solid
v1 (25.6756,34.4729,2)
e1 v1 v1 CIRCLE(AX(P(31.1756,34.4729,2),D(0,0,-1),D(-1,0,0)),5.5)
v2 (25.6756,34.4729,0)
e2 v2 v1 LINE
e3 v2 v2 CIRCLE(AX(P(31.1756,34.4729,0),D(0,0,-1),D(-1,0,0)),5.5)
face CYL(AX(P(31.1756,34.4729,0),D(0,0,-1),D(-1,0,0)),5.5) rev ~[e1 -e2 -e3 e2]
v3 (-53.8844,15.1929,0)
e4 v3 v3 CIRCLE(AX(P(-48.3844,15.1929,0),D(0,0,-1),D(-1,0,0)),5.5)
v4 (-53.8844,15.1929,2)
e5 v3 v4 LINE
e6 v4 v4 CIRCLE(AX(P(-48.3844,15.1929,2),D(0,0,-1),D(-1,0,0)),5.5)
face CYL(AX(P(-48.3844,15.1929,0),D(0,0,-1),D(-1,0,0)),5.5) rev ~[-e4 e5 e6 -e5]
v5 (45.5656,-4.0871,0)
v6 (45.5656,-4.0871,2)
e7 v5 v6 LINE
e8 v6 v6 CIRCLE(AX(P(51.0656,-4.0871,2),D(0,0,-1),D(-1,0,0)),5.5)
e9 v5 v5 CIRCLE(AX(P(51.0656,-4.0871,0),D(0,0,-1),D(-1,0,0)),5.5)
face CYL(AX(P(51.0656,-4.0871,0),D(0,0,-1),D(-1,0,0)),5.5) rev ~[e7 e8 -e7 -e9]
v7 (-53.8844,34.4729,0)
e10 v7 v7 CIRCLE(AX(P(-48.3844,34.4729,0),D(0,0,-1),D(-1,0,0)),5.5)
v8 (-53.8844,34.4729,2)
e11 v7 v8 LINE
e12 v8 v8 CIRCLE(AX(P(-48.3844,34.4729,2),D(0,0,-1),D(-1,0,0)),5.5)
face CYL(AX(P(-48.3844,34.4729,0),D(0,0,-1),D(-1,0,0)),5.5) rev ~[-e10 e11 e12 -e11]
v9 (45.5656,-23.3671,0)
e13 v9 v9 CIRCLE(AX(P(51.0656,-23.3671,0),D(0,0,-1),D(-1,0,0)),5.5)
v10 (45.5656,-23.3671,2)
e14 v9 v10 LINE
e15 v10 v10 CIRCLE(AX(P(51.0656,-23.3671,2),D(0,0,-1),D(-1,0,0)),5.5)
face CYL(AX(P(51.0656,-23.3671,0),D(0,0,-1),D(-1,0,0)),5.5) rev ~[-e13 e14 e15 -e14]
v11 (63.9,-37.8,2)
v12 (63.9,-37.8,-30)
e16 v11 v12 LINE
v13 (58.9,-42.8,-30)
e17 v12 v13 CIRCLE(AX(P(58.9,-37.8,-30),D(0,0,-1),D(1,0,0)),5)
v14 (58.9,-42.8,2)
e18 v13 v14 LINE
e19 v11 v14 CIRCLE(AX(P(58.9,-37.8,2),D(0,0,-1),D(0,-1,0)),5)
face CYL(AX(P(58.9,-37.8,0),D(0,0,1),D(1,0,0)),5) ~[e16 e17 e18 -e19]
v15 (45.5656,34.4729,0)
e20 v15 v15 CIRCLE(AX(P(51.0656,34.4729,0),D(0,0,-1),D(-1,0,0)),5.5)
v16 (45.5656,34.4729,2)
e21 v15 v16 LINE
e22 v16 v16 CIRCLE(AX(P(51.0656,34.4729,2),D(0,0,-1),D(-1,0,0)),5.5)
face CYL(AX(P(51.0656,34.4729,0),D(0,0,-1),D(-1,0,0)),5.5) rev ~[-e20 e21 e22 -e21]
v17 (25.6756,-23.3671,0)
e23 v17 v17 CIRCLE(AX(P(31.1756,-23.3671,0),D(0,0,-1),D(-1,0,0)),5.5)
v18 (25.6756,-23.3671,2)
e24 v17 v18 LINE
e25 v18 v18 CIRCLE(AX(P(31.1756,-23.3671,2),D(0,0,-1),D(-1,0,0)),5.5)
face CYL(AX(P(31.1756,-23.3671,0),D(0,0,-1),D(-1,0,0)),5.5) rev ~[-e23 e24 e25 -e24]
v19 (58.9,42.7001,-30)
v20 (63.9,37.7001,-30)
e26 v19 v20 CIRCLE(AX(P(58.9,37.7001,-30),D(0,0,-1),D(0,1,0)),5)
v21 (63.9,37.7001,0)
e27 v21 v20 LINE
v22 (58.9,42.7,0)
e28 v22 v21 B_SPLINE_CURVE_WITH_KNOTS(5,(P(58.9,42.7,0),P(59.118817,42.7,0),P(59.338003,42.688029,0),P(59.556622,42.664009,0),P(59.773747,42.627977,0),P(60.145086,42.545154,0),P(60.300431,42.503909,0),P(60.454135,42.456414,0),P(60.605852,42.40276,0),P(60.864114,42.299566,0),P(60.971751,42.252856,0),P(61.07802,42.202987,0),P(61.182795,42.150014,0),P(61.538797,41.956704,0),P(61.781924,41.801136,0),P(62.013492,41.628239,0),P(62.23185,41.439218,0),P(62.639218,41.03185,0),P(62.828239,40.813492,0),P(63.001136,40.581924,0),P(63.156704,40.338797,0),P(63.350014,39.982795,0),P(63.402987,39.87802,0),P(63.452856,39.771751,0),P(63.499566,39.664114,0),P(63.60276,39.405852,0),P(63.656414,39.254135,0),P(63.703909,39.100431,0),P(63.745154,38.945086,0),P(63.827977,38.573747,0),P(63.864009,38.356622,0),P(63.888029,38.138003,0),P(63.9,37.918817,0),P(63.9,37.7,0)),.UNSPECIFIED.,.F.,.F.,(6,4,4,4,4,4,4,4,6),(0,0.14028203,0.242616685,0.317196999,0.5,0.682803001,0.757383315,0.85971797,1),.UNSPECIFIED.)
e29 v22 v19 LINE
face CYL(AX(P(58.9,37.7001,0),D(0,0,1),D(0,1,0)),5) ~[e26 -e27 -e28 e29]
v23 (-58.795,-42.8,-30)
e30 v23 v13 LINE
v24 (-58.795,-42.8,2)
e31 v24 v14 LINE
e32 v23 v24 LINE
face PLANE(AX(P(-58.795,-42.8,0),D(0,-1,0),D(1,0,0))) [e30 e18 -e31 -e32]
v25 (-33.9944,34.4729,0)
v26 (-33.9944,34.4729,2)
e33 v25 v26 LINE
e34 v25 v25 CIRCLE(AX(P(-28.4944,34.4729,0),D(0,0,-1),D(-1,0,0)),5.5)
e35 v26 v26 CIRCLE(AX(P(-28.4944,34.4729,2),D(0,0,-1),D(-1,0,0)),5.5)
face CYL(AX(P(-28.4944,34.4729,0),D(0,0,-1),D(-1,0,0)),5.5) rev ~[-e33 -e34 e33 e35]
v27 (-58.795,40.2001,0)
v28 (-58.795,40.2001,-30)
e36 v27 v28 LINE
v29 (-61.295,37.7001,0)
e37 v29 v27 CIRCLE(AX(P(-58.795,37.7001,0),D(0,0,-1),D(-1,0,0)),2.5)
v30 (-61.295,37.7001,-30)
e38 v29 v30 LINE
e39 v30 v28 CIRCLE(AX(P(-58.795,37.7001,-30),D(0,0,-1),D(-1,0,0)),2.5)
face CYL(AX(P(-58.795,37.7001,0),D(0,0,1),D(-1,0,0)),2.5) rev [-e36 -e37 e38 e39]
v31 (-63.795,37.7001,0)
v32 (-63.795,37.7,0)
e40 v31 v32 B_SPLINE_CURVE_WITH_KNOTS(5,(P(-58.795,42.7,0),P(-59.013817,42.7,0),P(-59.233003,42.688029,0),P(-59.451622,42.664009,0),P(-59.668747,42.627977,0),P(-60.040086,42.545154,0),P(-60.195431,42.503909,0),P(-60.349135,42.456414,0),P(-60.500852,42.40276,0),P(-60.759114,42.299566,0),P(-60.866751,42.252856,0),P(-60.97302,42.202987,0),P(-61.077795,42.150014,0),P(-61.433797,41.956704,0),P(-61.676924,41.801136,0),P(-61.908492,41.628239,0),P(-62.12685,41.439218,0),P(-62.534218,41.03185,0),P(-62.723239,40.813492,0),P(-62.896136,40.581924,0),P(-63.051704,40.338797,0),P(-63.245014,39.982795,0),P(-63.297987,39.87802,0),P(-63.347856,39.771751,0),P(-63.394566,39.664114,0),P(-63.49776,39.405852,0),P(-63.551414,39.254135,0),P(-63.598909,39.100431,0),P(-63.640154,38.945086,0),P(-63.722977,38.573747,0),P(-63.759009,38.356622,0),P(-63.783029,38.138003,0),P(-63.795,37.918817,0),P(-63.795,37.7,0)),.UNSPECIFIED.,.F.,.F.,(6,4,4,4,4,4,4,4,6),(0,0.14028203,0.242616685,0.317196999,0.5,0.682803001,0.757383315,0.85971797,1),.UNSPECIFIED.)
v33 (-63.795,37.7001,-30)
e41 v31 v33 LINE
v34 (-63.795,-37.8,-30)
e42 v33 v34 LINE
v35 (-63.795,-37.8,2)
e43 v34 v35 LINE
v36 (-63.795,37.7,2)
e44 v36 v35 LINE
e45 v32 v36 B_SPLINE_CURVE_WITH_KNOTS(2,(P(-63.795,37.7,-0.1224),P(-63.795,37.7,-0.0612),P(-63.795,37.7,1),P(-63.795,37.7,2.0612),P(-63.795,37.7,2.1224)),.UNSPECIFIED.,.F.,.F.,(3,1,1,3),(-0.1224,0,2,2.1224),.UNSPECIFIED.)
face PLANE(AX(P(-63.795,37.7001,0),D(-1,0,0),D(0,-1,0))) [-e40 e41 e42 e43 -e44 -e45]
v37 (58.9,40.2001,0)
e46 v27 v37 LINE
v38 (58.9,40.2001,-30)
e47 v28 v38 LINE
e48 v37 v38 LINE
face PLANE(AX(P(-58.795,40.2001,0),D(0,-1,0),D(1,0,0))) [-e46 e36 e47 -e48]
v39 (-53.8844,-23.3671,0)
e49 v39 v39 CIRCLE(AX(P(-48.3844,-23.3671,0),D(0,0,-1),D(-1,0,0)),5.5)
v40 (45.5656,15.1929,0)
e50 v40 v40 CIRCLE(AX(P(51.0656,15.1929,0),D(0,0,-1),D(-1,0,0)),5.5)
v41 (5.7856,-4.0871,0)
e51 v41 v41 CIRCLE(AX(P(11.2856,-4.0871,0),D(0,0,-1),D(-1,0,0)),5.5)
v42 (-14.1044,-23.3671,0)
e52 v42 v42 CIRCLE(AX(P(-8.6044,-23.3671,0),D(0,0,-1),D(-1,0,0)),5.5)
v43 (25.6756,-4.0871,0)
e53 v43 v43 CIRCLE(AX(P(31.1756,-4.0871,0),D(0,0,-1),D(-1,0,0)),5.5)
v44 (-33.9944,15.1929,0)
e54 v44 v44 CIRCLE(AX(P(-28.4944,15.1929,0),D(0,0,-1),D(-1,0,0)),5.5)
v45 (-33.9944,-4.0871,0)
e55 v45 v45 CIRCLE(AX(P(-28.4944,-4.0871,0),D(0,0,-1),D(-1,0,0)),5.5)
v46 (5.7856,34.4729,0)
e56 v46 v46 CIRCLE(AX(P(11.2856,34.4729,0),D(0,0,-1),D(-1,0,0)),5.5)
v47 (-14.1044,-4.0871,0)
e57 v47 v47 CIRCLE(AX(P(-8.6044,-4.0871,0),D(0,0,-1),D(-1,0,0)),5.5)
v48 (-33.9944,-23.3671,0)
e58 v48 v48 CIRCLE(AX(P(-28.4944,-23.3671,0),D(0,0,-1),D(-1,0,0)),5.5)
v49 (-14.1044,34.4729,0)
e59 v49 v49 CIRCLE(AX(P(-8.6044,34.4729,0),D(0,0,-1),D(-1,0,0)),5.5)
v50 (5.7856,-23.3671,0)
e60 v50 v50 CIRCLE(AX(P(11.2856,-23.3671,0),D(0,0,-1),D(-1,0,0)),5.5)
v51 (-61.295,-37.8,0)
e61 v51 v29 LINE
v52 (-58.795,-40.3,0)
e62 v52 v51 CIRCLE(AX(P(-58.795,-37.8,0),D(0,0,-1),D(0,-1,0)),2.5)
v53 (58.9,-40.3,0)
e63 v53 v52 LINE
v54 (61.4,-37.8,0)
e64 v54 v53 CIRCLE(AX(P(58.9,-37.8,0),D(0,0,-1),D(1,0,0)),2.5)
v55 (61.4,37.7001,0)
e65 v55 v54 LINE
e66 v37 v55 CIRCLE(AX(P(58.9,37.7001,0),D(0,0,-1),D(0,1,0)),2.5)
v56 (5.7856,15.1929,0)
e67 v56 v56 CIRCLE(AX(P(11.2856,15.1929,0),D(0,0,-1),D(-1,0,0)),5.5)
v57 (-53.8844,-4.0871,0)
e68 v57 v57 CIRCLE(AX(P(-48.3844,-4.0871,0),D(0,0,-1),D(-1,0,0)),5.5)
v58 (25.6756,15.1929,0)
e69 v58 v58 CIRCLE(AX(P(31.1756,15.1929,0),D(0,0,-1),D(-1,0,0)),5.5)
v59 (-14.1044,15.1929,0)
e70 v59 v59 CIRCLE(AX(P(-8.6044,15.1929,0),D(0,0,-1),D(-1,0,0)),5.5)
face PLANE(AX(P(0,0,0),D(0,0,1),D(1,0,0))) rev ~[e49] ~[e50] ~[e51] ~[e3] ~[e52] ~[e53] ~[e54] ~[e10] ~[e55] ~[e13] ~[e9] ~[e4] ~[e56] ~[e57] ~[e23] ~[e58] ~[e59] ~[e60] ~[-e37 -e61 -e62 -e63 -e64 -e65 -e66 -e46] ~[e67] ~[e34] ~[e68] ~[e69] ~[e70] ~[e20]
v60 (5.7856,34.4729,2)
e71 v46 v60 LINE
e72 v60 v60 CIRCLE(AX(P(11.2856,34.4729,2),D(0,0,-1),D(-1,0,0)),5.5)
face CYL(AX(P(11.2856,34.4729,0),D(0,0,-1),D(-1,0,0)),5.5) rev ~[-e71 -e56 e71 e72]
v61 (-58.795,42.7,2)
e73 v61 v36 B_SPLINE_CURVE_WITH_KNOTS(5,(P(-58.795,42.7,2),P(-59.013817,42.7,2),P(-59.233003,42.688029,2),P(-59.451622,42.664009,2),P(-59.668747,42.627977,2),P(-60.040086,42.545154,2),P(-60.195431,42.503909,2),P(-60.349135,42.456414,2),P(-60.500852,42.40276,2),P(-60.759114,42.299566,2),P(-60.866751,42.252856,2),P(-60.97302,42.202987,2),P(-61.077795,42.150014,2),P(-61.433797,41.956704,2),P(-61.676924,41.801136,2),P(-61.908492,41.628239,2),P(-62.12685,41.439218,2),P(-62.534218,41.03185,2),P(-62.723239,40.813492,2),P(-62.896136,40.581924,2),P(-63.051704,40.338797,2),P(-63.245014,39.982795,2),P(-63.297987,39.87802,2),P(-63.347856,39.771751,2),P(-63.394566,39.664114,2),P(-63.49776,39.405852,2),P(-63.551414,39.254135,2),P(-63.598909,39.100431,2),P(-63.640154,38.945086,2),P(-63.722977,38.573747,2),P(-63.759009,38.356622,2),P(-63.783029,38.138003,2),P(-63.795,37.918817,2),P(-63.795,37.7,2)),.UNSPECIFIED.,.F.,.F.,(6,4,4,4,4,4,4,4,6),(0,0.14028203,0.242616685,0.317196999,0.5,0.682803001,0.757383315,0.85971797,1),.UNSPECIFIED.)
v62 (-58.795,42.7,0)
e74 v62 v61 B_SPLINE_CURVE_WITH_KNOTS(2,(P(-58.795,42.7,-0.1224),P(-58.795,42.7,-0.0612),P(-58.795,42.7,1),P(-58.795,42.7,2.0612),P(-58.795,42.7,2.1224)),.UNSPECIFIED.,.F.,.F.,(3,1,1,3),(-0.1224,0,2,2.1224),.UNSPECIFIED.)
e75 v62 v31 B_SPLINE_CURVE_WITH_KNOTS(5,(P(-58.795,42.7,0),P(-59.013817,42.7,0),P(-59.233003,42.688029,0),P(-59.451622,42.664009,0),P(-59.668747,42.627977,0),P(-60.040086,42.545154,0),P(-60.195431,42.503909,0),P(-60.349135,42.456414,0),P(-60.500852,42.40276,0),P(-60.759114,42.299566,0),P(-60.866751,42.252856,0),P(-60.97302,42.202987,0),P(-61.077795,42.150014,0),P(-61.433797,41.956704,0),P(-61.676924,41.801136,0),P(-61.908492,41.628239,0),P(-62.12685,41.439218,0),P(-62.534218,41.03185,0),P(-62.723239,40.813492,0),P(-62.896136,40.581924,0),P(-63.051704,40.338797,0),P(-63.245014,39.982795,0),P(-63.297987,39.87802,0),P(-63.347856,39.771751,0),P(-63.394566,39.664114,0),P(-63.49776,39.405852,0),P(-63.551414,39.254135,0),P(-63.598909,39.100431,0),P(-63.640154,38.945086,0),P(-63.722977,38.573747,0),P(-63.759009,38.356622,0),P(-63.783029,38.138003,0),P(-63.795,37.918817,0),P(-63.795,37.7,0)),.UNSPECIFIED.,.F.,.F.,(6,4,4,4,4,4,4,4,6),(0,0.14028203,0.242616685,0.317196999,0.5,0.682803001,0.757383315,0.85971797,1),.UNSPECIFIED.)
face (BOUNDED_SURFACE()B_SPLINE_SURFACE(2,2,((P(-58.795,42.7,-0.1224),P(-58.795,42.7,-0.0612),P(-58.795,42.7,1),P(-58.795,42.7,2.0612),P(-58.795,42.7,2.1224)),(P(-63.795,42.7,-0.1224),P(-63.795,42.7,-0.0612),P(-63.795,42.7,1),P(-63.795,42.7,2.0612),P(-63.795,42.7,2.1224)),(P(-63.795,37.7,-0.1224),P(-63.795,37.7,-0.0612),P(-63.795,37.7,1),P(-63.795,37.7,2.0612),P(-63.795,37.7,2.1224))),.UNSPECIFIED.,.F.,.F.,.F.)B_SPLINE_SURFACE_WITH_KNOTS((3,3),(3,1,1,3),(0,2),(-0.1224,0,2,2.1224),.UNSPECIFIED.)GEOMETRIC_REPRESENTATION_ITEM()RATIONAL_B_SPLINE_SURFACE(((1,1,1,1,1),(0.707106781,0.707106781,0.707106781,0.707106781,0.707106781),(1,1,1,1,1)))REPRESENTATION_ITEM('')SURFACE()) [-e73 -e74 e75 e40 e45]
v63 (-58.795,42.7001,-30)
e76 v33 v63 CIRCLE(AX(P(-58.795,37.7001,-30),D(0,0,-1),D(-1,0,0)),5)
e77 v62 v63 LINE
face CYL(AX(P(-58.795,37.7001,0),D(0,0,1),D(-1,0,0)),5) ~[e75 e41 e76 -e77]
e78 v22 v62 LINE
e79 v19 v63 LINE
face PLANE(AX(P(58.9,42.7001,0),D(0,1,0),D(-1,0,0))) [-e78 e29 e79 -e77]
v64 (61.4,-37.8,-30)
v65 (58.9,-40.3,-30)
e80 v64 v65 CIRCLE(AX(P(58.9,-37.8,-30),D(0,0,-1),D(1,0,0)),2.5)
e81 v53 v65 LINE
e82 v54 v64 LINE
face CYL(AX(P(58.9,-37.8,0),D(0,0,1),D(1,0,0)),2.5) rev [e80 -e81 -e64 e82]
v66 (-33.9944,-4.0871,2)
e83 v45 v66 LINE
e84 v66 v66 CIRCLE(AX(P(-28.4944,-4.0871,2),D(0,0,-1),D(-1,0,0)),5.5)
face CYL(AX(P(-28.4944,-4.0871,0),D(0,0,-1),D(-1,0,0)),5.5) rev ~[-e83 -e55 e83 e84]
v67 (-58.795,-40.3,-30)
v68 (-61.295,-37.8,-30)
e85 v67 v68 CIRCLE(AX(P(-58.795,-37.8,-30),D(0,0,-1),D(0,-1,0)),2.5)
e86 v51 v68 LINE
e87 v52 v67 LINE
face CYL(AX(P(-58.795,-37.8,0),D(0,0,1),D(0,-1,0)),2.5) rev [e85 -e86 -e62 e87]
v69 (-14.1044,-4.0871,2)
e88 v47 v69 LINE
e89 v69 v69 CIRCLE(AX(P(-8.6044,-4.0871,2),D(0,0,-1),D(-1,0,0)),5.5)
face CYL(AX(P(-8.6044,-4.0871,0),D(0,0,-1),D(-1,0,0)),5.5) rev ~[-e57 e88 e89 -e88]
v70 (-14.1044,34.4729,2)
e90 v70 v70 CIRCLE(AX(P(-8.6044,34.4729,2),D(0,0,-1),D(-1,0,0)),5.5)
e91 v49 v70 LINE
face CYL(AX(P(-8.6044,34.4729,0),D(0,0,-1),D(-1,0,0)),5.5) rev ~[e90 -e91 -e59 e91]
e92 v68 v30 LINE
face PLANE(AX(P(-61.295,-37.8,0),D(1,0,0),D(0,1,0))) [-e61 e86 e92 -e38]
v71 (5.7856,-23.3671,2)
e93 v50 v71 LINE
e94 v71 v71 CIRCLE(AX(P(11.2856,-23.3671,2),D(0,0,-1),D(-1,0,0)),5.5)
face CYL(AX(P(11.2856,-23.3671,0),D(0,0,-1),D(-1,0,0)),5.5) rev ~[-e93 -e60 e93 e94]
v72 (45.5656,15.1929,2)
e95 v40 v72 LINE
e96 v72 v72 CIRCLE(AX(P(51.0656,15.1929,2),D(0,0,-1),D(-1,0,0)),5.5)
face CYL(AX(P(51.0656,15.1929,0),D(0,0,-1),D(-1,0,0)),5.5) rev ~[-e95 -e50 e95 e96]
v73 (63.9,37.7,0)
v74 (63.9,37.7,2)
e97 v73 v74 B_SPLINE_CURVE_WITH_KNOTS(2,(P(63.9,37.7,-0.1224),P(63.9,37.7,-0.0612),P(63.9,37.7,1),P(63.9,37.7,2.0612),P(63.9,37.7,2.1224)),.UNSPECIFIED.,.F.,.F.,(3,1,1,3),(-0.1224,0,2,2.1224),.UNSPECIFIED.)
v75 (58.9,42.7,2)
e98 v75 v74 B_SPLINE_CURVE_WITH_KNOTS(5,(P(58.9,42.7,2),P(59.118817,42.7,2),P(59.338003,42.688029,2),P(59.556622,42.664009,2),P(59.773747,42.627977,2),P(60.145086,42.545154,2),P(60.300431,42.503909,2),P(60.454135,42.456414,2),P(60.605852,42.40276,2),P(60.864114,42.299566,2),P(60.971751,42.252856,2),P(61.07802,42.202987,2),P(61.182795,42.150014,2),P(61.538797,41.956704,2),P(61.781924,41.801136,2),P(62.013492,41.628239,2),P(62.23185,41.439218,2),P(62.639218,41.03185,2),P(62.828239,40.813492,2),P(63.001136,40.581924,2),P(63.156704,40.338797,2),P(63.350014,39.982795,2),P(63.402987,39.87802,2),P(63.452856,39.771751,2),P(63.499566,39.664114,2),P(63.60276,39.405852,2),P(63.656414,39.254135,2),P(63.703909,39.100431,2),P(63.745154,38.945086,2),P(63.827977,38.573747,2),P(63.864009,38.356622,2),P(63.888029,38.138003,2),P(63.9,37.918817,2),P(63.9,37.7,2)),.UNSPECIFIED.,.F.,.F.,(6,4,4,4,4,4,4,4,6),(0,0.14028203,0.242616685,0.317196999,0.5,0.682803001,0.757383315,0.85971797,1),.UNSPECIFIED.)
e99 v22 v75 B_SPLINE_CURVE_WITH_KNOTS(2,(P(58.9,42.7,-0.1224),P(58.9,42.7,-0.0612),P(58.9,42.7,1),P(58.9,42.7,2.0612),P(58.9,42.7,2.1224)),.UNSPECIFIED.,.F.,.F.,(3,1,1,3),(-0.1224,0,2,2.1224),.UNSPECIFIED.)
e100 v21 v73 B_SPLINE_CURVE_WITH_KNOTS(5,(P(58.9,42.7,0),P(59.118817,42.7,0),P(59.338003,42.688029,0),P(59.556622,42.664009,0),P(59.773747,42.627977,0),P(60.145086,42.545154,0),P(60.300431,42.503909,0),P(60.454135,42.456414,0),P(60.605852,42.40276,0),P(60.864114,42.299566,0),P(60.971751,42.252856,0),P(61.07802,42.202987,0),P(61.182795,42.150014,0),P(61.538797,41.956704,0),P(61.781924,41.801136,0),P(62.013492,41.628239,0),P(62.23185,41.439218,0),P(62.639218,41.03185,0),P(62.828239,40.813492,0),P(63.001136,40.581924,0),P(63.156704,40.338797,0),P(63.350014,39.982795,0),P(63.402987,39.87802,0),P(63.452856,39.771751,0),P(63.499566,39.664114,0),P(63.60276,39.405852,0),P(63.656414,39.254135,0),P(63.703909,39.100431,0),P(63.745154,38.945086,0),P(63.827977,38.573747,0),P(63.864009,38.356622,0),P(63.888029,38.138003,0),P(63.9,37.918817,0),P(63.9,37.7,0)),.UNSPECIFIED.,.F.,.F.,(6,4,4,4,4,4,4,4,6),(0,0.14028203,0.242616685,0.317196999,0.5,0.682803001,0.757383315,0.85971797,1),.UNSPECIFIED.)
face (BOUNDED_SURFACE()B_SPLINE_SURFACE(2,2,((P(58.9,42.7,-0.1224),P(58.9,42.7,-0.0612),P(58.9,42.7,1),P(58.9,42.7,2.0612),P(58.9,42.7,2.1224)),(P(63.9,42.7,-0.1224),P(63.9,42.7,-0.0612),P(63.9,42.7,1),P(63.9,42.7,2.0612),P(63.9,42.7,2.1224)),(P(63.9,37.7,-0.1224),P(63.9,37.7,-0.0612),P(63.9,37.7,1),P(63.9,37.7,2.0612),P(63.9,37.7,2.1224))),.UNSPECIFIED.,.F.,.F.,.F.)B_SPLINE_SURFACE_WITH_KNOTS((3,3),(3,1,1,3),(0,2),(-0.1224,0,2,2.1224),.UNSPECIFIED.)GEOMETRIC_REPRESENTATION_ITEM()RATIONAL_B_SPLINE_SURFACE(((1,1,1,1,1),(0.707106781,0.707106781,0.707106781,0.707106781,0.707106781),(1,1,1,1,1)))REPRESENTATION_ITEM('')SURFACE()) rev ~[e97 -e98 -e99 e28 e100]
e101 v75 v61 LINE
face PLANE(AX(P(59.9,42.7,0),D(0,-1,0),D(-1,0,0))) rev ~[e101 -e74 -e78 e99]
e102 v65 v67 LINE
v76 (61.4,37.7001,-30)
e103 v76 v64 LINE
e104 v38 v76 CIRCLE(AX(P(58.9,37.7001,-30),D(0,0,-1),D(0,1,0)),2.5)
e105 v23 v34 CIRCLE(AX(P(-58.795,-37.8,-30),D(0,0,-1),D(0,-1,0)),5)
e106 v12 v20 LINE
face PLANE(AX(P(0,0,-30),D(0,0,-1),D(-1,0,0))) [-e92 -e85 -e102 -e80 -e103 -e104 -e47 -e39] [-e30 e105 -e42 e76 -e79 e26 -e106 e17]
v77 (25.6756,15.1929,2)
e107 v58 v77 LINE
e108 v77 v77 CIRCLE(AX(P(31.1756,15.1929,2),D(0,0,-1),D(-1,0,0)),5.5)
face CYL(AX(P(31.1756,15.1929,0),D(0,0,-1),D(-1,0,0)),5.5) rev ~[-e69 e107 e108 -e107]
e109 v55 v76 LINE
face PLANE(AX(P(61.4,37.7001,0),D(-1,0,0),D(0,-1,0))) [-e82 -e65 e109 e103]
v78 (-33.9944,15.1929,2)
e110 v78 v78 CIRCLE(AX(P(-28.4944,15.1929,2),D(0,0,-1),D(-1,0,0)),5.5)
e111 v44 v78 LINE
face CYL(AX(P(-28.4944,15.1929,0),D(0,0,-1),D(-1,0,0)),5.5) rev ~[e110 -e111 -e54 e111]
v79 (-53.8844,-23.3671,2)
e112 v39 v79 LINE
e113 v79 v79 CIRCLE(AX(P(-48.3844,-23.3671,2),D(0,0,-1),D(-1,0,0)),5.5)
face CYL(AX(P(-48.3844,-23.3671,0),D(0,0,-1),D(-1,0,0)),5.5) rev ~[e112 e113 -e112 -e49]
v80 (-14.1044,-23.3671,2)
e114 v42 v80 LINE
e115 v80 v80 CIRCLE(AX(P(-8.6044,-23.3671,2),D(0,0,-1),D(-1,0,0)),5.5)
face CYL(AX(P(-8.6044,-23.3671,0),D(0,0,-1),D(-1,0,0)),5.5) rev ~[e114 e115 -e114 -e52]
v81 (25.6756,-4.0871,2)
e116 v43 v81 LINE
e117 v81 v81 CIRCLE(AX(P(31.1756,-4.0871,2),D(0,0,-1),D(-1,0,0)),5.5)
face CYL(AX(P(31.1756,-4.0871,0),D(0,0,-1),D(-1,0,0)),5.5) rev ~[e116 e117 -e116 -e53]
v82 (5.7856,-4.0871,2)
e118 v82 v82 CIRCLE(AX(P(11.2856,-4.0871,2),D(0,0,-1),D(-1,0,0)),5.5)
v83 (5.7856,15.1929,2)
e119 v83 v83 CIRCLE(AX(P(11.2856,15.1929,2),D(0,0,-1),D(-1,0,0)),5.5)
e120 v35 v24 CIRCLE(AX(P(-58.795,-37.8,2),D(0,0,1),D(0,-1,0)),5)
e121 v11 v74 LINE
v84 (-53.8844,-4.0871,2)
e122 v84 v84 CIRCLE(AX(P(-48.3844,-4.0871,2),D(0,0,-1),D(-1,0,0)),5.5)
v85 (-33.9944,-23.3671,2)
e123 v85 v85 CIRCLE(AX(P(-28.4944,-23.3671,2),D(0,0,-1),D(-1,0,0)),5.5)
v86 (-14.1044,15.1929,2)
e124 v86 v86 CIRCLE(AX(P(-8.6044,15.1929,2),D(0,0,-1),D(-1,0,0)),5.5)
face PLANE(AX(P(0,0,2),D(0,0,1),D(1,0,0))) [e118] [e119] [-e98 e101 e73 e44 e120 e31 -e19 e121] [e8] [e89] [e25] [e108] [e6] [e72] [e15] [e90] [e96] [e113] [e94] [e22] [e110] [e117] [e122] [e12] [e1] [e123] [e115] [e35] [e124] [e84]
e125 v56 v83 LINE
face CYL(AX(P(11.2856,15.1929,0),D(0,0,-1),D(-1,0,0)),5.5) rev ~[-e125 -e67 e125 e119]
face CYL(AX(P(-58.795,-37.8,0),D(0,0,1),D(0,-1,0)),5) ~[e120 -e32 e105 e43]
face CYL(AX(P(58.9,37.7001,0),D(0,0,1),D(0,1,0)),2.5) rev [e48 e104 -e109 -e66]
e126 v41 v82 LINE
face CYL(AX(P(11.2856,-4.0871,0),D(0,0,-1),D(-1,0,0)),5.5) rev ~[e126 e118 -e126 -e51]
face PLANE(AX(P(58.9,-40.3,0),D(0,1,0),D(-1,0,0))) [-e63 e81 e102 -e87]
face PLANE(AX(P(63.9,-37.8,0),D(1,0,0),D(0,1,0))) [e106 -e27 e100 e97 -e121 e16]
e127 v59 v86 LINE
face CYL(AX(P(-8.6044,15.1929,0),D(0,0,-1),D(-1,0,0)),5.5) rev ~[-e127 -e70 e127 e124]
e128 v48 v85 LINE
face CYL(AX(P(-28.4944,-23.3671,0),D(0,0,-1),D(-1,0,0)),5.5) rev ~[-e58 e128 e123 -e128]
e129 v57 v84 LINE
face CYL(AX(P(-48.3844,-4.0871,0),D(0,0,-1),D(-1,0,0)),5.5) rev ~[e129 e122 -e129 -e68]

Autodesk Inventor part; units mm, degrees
ref_plane "YZ Plane" through (0, 0, 0) normal (1, 0, 0) x (0, 1, 0)
ref_plane "XZ Plane" through (0, 0, 0) normal (0, 1, 0) x (-1, 0, 0)
ref_plane "XY Plane" through (0, 0, 0) normal (0, 0, 1) x (1, 0, 0)
sketch "Sketch1" plane through (0, 0, 0) normal (0, 0, 1) x (1, 0, 0)
  arc A0 (-59.9, 42.7) -> (-63.8, 38.8) centre (-59.9, 38.8) ccw projected
  arc A1 (63.8, 38.8) -> (59.9, 42.7) centre (59.9, 38.8) ccw projected
  arc A2 (59.9, -42.7) -> (63.8, -38.8) centre (59.9, -38.8) ccw projected
  arc A3 (59.9, -42.8) -> (63.9, -38.8) centre (59.9, -38.8) ccw projected
  arc A4 (-63.9, -38.8) -> (-59.9, -42.8) centre (-59.9, -38.8) ccw projected
  line L0 (-63.8, 38.8) -> (-63.9, -38.8)
  line L1 (-59.9, -42.8) -> (59.9, -42.8)
  line L2 (63.9, -38.8) -> (63.8, 38.8)
  line L3 (59.9, 42.7) -> (-59.9, 42.7)
  line L4 (-63.795, 42.7001) -> (63.9, 42.7001)
  line L5 (63.9, 42.7001) -> (63.9, -42.8)
  line L6 (63.9, -42.8) -> (-63.795, -42.8)
  line L7 (-63.795, -42.8) -> (-63.795, 42.7001)
  point P0 (0, 0)
extrude "Extrusion1" add sketch "Sketch1" along normal blind 2 contours L3 A1 L2 A3 L1 A4 L7 A0 | A0 L7 L4 | L4 L5 L2 A1 | A4 L6 L7 | L5 L6 A3
fillet "Fillet1" radius 5 4 edges at (63.9, -42.8, 1) (-63.795, 42.7001, 1) (-63.795, -42.8, 1) (63.9, 42.7001, 1)
sketch "Sketch2" plane through (0, 0, 0) normal (0, 0, -1) x (-1, 0, 0)
  line L0 (-65.9327, 44.5429) -> (66.5944, 44.5429) construction
  line L1 (66.5944, 44.5429) -> (66.5944, -45.2784) construction
  line L2 (66.5944, -45.2784) -> (-65.9327, -45.2784) construction
  line L3 (-65.9327, -45.2784) -> (-65.9327, 44.5429) construction
  arc A0 (-59.9, 42.7) -> (-63.8, 38.8) centre (-59.9, 38.8) ccw projected
  arc A1 (63.8, 38.8) -> (59.9, 42.7) centre (59.9, 38.8) ccw projected
  arc A2 (59.9, -42.7) -> (63.8, -38.8) centre (59.9, -38.8) ccw projected
  arc A3 (-63.8, -38.8) -> (-59.9, -42.7) centre (-59.9, -38.8) ccw projected
  circle A4 centre (48.3844, 34.4729) radius 5.5
  circle A5 centre (48.3844, 15.1929) radius 5.5
  line L4 (66.5944, 25.2629) -> (66.5944, -64.5584) construction
  circle A6 centre (48.3844, -4.0871) radius 5.5
  line L5 (66.5944, 5.9829) -> (66.5944, -83.8384) construction
  circle A7 centre (48.3844, -23.3671) radius 5.5
  line L6 (66.5944, -13.2971) -> (66.5944, -103.1184) construction
  circle A8 centre (28.4944, 34.4729) radius 5.5
  line L7 (46.7044, 44.5429) -> (46.7044, -45.2784) construction
  circle A9 centre (28.4944, 15.1929) radius 5.5
  line L8 (46.7044, 25.2629) -> (46.7044, -64.5584) construction
  circle A10 centre (28.4944, -4.0871) radius 5.5
  line L9 (46.7044, 5.9829) -> (46.7044, -83.8384) construction
  circle A11 centre (28.4944, -23.3671) radius 5.5
  line L10 (46.7044, -13.2971) -> (46.7044, -103.1184) construction
  circle A12 centre (8.6044, 34.4729) radius 5.5
  line L11 (26.8144, 44.5429) -> (26.8144, -45.2784) construction
  circle A13 centre (8.6044, 15.1929) radius 5.5
  line L12 (26.8144, 25.2629) -> (26.8144, -64.5584) construction
  circle A14 centre (8.6044, -4.0871) radius 5.5
  line L13 (26.8144, 5.9829) -> (26.8144, -83.8384) construction
  circle A15 centre (8.6044, -23.3671) radius 5.5
  line L14 (26.8144, -13.2971) -> (26.8144, -103.1184) construction
  circle A16 centre (-11.2856, 34.4729) radius 5.5
  line L15 (6.9244, 44.5429) -> (6.9244, -45.2784) construction
  circle A17 centre (-11.2856, 15.1929) radius 5.5
  line L16 (6.9244, 25.2629) -> (6.9244, -64.5584) construction
  circle A18 centre (-11.2856, -4.0871) radius 5.5
  line L17 (6.9244, 5.9829) -> (6.9244, -83.8384) construction
  circle A19 centre (-11.2856, -23.3671) radius 5.5
  line L18 (6.9244, -13.2971) -> (6.9244, -103.1184) construction
  circle A20 centre (-31.1756, 34.4729) radius 5.5
  line L19 (-12.9656, 44.5429) -> (-12.9656, -45.2784) construction
  circle A21 centre (-31.1756, 15.1929) radius 5.5
  line L20 (-12.9656, 25.2629) -> (-12.9656, -64.5584) construction
  circle A22 centre (-31.1756, -4.0871) radius 5.5
  line L21 (-12.9656, 5.9829) -> (-12.9656, -83.8384) construction
  circle A23 centre (-31.1756, -23.3671) radius 5.5
  line L22 (-12.9656, -13.2971) -> (-12.9656, -103.1184) construction
  circle A24 centre (-51.0656, 34.4729) radius 5.5
  line L23 (-32.8556, 44.5429) -> (-32.8556, -45.2784) construction
  circle A25 centre (-51.0656, 15.1929) radius 5.5
  line L24 (-32.8556, 25.2629) -> (-32.8556, -64.5584) construction
  circle A26 centre (-51.0656, -4.0871) radius 5.5
  line L25 (-32.8556, 5.9829) -> (-32.8556, -83.8384) construction
  circle A27 centre (-51.0656, -23.3671) radius 5.5
  line L26 (-32.8556, -13.2971) -> (-32.8556, -103.1184) construction
  point P0 (0, 0)
  point P1 (59.9, 19.52)
  point P2 (59.9, 0.24)
  point P3 (59.9, -19.04)
  point P4 (40.01, 38.8)
  point P5 (40.01, 19.52)
  point P6 (40.01, 0.24)
  point P7 (40.01, -19.04)
  point P8 (20.12, 38.8)
  point P9 (20.12, 19.52)
  point P10 (20.12, 0.24)
  point P11 (20.12, -19.04)
  point P12 (0.23, 38.8)
  point P13 (0.23, 19.52)
  point P14 (0.23, 0.24)
  point P15 (0.23, -19.04)
  point P16 (-19.66, 38.8)
  point P17 (-19.66, 19.52)
  point P18 (-19.66, 0.24)
  point P19 (-19.66, -19.04)
  point P20 (-39.55, 38.8)
  point P21 (-39.55, 19.52)
  point P22 (-39.55, 0.24)
  point P23 (-39.55, -19.04)
  dimension "d10" = 11
  dimension "d17" = 19.28
  dimension "d20" = 19.89
  dimension "d24" = 18.21
  dimension "d25" = 10.07
  dimension "d26" = 132.5272
extrude "Extrusion2" cut sketch "Sketch2" against normal blind 2
sketch "Sketch3" plane through (0, 0, 0) normal (0, 0, -1) x (-1, 0, 0)
  circle A0 centre (-51.0656, -4.0871) radius 5.5 projected
  circle A1 centre (-51.0656, 34.4729) radius 5.5 projected
  circle A2 centre (-31.1756, -4.0871) radius 5.5 projected
  circle A3 centre (-31.1756, 34.4729) radius 5.5 projected
  circle A4 centre (-11.2856, -4.0871) radius 5.5 projected
  circle A5 centre (-11.2856, 34.4729) radius 5.5 projected
  circle A6 centre (8.6044, -4.0871) radius 5.5 projected
  circle A7 centre (8.6044, 34.4729) radius 5.5 projected
  circle A8 centre (28.4944, -4.0871) radius 5.5 projected
  circle A9 centre (28.4944, 34.4729) radius 5.5 projected
  circle A10 centre (48.3844, -4.0871) radius 5.5 projected
  circle A11 centre (48.3844, 34.4729) radius 5.5 projected
  circle A12 centre (48.3844, 15.1929) radius 5.5 projected
  circle A13 centre (48.3844, -23.3671) radius 5.5 projected
  circle A14 centre (28.4944, 15.1929) radius 5.5 projected
  circle A15 centre (28.4944, -23.3671) radius 5.5 projected
  circle A16 centre (8.6044, 15.1929) radius 5.5 projected
  circle A17 centre (8.6044, -23.3671) radius 5.5 projected
  circle A18 centre (-11.2856, 15.1929) radius 5.5 projected
  circle A19 centre (-11.2856, -23.3671) radius 5.5 projected
  circle A20 centre (-31.1756, 15.1929) radius 5.5 projected
  circle A21 centre (-31.1756, -23.3671) radius 5.5 projected
  circle A22 centre (-51.0656, 15.1929) radius 5.5 projected
  circle A23 centre (-51.0656, -23.3671) radius 5.5 projected
  arc A24 (-58.9, 42.7001) -> (-63.9, 37.7001) centre (-58.9, 37.7001) ccw projected
  line L0 (-58.9, 42.7001) -> (58.795, 42.7001) projected
  arc A25 (63.795, 37.7001) -> (58.795, 42.7001) centre (58.795, 37.7001) ccw projected
  line L1 (63.795, 37.7001) -> (63.795, -37.8) projected
  arc A26 (58.795, -42.8) -> (63.795, -37.8) centre (58.795, -37.8) ccw projected
  line L2 (58.795, -42.8) -> (-58.9, -42.8) projected
  arc A27 (-63.9, -37.8) -> (-58.9, -42.8) centre (-58.9, -37.8) ccw projected
  line L3 (-63.9, -37.8) -> (-63.9, 37.7001) projected
  line L4 (58.795, 40.2001) -> (-58.9, 40.2001)
  arc A28 (-58.9, 40.2001) -> (-61.4, 37.7001) centre (-58.9, 37.7001) ccw
  line L5 (-61.4, 37.7001) -> (-61.4, -37.8)
  arc A29 (-61.4, -37.8) -> (-58.9, -40.3) centre (-58.9, -37.8) ccw
  line L6 (-58.9, -40.3) -> (58.795, -40.3)
  arc A30 (58.795, -40.3) -> (61.295, -37.8) centre (58.795, -37.8) ccw
  line L7 (61.295, -37.8) -> (61.295, 37.7001)
  arc A31 (61.295, 37.7001) -> (58.795, 40.2001) centre (58.795, 37.7001) ccw
  point P0 (0, 0)
  dimension "d27" = 2.5
extrude "Extrusion3" add sketch "Sketch3" along normal blind 30 contours L0 A25 L1 A26 L2 A27 L3 A24
properties part number "00_Rack_Eppendorf_Tubes"
